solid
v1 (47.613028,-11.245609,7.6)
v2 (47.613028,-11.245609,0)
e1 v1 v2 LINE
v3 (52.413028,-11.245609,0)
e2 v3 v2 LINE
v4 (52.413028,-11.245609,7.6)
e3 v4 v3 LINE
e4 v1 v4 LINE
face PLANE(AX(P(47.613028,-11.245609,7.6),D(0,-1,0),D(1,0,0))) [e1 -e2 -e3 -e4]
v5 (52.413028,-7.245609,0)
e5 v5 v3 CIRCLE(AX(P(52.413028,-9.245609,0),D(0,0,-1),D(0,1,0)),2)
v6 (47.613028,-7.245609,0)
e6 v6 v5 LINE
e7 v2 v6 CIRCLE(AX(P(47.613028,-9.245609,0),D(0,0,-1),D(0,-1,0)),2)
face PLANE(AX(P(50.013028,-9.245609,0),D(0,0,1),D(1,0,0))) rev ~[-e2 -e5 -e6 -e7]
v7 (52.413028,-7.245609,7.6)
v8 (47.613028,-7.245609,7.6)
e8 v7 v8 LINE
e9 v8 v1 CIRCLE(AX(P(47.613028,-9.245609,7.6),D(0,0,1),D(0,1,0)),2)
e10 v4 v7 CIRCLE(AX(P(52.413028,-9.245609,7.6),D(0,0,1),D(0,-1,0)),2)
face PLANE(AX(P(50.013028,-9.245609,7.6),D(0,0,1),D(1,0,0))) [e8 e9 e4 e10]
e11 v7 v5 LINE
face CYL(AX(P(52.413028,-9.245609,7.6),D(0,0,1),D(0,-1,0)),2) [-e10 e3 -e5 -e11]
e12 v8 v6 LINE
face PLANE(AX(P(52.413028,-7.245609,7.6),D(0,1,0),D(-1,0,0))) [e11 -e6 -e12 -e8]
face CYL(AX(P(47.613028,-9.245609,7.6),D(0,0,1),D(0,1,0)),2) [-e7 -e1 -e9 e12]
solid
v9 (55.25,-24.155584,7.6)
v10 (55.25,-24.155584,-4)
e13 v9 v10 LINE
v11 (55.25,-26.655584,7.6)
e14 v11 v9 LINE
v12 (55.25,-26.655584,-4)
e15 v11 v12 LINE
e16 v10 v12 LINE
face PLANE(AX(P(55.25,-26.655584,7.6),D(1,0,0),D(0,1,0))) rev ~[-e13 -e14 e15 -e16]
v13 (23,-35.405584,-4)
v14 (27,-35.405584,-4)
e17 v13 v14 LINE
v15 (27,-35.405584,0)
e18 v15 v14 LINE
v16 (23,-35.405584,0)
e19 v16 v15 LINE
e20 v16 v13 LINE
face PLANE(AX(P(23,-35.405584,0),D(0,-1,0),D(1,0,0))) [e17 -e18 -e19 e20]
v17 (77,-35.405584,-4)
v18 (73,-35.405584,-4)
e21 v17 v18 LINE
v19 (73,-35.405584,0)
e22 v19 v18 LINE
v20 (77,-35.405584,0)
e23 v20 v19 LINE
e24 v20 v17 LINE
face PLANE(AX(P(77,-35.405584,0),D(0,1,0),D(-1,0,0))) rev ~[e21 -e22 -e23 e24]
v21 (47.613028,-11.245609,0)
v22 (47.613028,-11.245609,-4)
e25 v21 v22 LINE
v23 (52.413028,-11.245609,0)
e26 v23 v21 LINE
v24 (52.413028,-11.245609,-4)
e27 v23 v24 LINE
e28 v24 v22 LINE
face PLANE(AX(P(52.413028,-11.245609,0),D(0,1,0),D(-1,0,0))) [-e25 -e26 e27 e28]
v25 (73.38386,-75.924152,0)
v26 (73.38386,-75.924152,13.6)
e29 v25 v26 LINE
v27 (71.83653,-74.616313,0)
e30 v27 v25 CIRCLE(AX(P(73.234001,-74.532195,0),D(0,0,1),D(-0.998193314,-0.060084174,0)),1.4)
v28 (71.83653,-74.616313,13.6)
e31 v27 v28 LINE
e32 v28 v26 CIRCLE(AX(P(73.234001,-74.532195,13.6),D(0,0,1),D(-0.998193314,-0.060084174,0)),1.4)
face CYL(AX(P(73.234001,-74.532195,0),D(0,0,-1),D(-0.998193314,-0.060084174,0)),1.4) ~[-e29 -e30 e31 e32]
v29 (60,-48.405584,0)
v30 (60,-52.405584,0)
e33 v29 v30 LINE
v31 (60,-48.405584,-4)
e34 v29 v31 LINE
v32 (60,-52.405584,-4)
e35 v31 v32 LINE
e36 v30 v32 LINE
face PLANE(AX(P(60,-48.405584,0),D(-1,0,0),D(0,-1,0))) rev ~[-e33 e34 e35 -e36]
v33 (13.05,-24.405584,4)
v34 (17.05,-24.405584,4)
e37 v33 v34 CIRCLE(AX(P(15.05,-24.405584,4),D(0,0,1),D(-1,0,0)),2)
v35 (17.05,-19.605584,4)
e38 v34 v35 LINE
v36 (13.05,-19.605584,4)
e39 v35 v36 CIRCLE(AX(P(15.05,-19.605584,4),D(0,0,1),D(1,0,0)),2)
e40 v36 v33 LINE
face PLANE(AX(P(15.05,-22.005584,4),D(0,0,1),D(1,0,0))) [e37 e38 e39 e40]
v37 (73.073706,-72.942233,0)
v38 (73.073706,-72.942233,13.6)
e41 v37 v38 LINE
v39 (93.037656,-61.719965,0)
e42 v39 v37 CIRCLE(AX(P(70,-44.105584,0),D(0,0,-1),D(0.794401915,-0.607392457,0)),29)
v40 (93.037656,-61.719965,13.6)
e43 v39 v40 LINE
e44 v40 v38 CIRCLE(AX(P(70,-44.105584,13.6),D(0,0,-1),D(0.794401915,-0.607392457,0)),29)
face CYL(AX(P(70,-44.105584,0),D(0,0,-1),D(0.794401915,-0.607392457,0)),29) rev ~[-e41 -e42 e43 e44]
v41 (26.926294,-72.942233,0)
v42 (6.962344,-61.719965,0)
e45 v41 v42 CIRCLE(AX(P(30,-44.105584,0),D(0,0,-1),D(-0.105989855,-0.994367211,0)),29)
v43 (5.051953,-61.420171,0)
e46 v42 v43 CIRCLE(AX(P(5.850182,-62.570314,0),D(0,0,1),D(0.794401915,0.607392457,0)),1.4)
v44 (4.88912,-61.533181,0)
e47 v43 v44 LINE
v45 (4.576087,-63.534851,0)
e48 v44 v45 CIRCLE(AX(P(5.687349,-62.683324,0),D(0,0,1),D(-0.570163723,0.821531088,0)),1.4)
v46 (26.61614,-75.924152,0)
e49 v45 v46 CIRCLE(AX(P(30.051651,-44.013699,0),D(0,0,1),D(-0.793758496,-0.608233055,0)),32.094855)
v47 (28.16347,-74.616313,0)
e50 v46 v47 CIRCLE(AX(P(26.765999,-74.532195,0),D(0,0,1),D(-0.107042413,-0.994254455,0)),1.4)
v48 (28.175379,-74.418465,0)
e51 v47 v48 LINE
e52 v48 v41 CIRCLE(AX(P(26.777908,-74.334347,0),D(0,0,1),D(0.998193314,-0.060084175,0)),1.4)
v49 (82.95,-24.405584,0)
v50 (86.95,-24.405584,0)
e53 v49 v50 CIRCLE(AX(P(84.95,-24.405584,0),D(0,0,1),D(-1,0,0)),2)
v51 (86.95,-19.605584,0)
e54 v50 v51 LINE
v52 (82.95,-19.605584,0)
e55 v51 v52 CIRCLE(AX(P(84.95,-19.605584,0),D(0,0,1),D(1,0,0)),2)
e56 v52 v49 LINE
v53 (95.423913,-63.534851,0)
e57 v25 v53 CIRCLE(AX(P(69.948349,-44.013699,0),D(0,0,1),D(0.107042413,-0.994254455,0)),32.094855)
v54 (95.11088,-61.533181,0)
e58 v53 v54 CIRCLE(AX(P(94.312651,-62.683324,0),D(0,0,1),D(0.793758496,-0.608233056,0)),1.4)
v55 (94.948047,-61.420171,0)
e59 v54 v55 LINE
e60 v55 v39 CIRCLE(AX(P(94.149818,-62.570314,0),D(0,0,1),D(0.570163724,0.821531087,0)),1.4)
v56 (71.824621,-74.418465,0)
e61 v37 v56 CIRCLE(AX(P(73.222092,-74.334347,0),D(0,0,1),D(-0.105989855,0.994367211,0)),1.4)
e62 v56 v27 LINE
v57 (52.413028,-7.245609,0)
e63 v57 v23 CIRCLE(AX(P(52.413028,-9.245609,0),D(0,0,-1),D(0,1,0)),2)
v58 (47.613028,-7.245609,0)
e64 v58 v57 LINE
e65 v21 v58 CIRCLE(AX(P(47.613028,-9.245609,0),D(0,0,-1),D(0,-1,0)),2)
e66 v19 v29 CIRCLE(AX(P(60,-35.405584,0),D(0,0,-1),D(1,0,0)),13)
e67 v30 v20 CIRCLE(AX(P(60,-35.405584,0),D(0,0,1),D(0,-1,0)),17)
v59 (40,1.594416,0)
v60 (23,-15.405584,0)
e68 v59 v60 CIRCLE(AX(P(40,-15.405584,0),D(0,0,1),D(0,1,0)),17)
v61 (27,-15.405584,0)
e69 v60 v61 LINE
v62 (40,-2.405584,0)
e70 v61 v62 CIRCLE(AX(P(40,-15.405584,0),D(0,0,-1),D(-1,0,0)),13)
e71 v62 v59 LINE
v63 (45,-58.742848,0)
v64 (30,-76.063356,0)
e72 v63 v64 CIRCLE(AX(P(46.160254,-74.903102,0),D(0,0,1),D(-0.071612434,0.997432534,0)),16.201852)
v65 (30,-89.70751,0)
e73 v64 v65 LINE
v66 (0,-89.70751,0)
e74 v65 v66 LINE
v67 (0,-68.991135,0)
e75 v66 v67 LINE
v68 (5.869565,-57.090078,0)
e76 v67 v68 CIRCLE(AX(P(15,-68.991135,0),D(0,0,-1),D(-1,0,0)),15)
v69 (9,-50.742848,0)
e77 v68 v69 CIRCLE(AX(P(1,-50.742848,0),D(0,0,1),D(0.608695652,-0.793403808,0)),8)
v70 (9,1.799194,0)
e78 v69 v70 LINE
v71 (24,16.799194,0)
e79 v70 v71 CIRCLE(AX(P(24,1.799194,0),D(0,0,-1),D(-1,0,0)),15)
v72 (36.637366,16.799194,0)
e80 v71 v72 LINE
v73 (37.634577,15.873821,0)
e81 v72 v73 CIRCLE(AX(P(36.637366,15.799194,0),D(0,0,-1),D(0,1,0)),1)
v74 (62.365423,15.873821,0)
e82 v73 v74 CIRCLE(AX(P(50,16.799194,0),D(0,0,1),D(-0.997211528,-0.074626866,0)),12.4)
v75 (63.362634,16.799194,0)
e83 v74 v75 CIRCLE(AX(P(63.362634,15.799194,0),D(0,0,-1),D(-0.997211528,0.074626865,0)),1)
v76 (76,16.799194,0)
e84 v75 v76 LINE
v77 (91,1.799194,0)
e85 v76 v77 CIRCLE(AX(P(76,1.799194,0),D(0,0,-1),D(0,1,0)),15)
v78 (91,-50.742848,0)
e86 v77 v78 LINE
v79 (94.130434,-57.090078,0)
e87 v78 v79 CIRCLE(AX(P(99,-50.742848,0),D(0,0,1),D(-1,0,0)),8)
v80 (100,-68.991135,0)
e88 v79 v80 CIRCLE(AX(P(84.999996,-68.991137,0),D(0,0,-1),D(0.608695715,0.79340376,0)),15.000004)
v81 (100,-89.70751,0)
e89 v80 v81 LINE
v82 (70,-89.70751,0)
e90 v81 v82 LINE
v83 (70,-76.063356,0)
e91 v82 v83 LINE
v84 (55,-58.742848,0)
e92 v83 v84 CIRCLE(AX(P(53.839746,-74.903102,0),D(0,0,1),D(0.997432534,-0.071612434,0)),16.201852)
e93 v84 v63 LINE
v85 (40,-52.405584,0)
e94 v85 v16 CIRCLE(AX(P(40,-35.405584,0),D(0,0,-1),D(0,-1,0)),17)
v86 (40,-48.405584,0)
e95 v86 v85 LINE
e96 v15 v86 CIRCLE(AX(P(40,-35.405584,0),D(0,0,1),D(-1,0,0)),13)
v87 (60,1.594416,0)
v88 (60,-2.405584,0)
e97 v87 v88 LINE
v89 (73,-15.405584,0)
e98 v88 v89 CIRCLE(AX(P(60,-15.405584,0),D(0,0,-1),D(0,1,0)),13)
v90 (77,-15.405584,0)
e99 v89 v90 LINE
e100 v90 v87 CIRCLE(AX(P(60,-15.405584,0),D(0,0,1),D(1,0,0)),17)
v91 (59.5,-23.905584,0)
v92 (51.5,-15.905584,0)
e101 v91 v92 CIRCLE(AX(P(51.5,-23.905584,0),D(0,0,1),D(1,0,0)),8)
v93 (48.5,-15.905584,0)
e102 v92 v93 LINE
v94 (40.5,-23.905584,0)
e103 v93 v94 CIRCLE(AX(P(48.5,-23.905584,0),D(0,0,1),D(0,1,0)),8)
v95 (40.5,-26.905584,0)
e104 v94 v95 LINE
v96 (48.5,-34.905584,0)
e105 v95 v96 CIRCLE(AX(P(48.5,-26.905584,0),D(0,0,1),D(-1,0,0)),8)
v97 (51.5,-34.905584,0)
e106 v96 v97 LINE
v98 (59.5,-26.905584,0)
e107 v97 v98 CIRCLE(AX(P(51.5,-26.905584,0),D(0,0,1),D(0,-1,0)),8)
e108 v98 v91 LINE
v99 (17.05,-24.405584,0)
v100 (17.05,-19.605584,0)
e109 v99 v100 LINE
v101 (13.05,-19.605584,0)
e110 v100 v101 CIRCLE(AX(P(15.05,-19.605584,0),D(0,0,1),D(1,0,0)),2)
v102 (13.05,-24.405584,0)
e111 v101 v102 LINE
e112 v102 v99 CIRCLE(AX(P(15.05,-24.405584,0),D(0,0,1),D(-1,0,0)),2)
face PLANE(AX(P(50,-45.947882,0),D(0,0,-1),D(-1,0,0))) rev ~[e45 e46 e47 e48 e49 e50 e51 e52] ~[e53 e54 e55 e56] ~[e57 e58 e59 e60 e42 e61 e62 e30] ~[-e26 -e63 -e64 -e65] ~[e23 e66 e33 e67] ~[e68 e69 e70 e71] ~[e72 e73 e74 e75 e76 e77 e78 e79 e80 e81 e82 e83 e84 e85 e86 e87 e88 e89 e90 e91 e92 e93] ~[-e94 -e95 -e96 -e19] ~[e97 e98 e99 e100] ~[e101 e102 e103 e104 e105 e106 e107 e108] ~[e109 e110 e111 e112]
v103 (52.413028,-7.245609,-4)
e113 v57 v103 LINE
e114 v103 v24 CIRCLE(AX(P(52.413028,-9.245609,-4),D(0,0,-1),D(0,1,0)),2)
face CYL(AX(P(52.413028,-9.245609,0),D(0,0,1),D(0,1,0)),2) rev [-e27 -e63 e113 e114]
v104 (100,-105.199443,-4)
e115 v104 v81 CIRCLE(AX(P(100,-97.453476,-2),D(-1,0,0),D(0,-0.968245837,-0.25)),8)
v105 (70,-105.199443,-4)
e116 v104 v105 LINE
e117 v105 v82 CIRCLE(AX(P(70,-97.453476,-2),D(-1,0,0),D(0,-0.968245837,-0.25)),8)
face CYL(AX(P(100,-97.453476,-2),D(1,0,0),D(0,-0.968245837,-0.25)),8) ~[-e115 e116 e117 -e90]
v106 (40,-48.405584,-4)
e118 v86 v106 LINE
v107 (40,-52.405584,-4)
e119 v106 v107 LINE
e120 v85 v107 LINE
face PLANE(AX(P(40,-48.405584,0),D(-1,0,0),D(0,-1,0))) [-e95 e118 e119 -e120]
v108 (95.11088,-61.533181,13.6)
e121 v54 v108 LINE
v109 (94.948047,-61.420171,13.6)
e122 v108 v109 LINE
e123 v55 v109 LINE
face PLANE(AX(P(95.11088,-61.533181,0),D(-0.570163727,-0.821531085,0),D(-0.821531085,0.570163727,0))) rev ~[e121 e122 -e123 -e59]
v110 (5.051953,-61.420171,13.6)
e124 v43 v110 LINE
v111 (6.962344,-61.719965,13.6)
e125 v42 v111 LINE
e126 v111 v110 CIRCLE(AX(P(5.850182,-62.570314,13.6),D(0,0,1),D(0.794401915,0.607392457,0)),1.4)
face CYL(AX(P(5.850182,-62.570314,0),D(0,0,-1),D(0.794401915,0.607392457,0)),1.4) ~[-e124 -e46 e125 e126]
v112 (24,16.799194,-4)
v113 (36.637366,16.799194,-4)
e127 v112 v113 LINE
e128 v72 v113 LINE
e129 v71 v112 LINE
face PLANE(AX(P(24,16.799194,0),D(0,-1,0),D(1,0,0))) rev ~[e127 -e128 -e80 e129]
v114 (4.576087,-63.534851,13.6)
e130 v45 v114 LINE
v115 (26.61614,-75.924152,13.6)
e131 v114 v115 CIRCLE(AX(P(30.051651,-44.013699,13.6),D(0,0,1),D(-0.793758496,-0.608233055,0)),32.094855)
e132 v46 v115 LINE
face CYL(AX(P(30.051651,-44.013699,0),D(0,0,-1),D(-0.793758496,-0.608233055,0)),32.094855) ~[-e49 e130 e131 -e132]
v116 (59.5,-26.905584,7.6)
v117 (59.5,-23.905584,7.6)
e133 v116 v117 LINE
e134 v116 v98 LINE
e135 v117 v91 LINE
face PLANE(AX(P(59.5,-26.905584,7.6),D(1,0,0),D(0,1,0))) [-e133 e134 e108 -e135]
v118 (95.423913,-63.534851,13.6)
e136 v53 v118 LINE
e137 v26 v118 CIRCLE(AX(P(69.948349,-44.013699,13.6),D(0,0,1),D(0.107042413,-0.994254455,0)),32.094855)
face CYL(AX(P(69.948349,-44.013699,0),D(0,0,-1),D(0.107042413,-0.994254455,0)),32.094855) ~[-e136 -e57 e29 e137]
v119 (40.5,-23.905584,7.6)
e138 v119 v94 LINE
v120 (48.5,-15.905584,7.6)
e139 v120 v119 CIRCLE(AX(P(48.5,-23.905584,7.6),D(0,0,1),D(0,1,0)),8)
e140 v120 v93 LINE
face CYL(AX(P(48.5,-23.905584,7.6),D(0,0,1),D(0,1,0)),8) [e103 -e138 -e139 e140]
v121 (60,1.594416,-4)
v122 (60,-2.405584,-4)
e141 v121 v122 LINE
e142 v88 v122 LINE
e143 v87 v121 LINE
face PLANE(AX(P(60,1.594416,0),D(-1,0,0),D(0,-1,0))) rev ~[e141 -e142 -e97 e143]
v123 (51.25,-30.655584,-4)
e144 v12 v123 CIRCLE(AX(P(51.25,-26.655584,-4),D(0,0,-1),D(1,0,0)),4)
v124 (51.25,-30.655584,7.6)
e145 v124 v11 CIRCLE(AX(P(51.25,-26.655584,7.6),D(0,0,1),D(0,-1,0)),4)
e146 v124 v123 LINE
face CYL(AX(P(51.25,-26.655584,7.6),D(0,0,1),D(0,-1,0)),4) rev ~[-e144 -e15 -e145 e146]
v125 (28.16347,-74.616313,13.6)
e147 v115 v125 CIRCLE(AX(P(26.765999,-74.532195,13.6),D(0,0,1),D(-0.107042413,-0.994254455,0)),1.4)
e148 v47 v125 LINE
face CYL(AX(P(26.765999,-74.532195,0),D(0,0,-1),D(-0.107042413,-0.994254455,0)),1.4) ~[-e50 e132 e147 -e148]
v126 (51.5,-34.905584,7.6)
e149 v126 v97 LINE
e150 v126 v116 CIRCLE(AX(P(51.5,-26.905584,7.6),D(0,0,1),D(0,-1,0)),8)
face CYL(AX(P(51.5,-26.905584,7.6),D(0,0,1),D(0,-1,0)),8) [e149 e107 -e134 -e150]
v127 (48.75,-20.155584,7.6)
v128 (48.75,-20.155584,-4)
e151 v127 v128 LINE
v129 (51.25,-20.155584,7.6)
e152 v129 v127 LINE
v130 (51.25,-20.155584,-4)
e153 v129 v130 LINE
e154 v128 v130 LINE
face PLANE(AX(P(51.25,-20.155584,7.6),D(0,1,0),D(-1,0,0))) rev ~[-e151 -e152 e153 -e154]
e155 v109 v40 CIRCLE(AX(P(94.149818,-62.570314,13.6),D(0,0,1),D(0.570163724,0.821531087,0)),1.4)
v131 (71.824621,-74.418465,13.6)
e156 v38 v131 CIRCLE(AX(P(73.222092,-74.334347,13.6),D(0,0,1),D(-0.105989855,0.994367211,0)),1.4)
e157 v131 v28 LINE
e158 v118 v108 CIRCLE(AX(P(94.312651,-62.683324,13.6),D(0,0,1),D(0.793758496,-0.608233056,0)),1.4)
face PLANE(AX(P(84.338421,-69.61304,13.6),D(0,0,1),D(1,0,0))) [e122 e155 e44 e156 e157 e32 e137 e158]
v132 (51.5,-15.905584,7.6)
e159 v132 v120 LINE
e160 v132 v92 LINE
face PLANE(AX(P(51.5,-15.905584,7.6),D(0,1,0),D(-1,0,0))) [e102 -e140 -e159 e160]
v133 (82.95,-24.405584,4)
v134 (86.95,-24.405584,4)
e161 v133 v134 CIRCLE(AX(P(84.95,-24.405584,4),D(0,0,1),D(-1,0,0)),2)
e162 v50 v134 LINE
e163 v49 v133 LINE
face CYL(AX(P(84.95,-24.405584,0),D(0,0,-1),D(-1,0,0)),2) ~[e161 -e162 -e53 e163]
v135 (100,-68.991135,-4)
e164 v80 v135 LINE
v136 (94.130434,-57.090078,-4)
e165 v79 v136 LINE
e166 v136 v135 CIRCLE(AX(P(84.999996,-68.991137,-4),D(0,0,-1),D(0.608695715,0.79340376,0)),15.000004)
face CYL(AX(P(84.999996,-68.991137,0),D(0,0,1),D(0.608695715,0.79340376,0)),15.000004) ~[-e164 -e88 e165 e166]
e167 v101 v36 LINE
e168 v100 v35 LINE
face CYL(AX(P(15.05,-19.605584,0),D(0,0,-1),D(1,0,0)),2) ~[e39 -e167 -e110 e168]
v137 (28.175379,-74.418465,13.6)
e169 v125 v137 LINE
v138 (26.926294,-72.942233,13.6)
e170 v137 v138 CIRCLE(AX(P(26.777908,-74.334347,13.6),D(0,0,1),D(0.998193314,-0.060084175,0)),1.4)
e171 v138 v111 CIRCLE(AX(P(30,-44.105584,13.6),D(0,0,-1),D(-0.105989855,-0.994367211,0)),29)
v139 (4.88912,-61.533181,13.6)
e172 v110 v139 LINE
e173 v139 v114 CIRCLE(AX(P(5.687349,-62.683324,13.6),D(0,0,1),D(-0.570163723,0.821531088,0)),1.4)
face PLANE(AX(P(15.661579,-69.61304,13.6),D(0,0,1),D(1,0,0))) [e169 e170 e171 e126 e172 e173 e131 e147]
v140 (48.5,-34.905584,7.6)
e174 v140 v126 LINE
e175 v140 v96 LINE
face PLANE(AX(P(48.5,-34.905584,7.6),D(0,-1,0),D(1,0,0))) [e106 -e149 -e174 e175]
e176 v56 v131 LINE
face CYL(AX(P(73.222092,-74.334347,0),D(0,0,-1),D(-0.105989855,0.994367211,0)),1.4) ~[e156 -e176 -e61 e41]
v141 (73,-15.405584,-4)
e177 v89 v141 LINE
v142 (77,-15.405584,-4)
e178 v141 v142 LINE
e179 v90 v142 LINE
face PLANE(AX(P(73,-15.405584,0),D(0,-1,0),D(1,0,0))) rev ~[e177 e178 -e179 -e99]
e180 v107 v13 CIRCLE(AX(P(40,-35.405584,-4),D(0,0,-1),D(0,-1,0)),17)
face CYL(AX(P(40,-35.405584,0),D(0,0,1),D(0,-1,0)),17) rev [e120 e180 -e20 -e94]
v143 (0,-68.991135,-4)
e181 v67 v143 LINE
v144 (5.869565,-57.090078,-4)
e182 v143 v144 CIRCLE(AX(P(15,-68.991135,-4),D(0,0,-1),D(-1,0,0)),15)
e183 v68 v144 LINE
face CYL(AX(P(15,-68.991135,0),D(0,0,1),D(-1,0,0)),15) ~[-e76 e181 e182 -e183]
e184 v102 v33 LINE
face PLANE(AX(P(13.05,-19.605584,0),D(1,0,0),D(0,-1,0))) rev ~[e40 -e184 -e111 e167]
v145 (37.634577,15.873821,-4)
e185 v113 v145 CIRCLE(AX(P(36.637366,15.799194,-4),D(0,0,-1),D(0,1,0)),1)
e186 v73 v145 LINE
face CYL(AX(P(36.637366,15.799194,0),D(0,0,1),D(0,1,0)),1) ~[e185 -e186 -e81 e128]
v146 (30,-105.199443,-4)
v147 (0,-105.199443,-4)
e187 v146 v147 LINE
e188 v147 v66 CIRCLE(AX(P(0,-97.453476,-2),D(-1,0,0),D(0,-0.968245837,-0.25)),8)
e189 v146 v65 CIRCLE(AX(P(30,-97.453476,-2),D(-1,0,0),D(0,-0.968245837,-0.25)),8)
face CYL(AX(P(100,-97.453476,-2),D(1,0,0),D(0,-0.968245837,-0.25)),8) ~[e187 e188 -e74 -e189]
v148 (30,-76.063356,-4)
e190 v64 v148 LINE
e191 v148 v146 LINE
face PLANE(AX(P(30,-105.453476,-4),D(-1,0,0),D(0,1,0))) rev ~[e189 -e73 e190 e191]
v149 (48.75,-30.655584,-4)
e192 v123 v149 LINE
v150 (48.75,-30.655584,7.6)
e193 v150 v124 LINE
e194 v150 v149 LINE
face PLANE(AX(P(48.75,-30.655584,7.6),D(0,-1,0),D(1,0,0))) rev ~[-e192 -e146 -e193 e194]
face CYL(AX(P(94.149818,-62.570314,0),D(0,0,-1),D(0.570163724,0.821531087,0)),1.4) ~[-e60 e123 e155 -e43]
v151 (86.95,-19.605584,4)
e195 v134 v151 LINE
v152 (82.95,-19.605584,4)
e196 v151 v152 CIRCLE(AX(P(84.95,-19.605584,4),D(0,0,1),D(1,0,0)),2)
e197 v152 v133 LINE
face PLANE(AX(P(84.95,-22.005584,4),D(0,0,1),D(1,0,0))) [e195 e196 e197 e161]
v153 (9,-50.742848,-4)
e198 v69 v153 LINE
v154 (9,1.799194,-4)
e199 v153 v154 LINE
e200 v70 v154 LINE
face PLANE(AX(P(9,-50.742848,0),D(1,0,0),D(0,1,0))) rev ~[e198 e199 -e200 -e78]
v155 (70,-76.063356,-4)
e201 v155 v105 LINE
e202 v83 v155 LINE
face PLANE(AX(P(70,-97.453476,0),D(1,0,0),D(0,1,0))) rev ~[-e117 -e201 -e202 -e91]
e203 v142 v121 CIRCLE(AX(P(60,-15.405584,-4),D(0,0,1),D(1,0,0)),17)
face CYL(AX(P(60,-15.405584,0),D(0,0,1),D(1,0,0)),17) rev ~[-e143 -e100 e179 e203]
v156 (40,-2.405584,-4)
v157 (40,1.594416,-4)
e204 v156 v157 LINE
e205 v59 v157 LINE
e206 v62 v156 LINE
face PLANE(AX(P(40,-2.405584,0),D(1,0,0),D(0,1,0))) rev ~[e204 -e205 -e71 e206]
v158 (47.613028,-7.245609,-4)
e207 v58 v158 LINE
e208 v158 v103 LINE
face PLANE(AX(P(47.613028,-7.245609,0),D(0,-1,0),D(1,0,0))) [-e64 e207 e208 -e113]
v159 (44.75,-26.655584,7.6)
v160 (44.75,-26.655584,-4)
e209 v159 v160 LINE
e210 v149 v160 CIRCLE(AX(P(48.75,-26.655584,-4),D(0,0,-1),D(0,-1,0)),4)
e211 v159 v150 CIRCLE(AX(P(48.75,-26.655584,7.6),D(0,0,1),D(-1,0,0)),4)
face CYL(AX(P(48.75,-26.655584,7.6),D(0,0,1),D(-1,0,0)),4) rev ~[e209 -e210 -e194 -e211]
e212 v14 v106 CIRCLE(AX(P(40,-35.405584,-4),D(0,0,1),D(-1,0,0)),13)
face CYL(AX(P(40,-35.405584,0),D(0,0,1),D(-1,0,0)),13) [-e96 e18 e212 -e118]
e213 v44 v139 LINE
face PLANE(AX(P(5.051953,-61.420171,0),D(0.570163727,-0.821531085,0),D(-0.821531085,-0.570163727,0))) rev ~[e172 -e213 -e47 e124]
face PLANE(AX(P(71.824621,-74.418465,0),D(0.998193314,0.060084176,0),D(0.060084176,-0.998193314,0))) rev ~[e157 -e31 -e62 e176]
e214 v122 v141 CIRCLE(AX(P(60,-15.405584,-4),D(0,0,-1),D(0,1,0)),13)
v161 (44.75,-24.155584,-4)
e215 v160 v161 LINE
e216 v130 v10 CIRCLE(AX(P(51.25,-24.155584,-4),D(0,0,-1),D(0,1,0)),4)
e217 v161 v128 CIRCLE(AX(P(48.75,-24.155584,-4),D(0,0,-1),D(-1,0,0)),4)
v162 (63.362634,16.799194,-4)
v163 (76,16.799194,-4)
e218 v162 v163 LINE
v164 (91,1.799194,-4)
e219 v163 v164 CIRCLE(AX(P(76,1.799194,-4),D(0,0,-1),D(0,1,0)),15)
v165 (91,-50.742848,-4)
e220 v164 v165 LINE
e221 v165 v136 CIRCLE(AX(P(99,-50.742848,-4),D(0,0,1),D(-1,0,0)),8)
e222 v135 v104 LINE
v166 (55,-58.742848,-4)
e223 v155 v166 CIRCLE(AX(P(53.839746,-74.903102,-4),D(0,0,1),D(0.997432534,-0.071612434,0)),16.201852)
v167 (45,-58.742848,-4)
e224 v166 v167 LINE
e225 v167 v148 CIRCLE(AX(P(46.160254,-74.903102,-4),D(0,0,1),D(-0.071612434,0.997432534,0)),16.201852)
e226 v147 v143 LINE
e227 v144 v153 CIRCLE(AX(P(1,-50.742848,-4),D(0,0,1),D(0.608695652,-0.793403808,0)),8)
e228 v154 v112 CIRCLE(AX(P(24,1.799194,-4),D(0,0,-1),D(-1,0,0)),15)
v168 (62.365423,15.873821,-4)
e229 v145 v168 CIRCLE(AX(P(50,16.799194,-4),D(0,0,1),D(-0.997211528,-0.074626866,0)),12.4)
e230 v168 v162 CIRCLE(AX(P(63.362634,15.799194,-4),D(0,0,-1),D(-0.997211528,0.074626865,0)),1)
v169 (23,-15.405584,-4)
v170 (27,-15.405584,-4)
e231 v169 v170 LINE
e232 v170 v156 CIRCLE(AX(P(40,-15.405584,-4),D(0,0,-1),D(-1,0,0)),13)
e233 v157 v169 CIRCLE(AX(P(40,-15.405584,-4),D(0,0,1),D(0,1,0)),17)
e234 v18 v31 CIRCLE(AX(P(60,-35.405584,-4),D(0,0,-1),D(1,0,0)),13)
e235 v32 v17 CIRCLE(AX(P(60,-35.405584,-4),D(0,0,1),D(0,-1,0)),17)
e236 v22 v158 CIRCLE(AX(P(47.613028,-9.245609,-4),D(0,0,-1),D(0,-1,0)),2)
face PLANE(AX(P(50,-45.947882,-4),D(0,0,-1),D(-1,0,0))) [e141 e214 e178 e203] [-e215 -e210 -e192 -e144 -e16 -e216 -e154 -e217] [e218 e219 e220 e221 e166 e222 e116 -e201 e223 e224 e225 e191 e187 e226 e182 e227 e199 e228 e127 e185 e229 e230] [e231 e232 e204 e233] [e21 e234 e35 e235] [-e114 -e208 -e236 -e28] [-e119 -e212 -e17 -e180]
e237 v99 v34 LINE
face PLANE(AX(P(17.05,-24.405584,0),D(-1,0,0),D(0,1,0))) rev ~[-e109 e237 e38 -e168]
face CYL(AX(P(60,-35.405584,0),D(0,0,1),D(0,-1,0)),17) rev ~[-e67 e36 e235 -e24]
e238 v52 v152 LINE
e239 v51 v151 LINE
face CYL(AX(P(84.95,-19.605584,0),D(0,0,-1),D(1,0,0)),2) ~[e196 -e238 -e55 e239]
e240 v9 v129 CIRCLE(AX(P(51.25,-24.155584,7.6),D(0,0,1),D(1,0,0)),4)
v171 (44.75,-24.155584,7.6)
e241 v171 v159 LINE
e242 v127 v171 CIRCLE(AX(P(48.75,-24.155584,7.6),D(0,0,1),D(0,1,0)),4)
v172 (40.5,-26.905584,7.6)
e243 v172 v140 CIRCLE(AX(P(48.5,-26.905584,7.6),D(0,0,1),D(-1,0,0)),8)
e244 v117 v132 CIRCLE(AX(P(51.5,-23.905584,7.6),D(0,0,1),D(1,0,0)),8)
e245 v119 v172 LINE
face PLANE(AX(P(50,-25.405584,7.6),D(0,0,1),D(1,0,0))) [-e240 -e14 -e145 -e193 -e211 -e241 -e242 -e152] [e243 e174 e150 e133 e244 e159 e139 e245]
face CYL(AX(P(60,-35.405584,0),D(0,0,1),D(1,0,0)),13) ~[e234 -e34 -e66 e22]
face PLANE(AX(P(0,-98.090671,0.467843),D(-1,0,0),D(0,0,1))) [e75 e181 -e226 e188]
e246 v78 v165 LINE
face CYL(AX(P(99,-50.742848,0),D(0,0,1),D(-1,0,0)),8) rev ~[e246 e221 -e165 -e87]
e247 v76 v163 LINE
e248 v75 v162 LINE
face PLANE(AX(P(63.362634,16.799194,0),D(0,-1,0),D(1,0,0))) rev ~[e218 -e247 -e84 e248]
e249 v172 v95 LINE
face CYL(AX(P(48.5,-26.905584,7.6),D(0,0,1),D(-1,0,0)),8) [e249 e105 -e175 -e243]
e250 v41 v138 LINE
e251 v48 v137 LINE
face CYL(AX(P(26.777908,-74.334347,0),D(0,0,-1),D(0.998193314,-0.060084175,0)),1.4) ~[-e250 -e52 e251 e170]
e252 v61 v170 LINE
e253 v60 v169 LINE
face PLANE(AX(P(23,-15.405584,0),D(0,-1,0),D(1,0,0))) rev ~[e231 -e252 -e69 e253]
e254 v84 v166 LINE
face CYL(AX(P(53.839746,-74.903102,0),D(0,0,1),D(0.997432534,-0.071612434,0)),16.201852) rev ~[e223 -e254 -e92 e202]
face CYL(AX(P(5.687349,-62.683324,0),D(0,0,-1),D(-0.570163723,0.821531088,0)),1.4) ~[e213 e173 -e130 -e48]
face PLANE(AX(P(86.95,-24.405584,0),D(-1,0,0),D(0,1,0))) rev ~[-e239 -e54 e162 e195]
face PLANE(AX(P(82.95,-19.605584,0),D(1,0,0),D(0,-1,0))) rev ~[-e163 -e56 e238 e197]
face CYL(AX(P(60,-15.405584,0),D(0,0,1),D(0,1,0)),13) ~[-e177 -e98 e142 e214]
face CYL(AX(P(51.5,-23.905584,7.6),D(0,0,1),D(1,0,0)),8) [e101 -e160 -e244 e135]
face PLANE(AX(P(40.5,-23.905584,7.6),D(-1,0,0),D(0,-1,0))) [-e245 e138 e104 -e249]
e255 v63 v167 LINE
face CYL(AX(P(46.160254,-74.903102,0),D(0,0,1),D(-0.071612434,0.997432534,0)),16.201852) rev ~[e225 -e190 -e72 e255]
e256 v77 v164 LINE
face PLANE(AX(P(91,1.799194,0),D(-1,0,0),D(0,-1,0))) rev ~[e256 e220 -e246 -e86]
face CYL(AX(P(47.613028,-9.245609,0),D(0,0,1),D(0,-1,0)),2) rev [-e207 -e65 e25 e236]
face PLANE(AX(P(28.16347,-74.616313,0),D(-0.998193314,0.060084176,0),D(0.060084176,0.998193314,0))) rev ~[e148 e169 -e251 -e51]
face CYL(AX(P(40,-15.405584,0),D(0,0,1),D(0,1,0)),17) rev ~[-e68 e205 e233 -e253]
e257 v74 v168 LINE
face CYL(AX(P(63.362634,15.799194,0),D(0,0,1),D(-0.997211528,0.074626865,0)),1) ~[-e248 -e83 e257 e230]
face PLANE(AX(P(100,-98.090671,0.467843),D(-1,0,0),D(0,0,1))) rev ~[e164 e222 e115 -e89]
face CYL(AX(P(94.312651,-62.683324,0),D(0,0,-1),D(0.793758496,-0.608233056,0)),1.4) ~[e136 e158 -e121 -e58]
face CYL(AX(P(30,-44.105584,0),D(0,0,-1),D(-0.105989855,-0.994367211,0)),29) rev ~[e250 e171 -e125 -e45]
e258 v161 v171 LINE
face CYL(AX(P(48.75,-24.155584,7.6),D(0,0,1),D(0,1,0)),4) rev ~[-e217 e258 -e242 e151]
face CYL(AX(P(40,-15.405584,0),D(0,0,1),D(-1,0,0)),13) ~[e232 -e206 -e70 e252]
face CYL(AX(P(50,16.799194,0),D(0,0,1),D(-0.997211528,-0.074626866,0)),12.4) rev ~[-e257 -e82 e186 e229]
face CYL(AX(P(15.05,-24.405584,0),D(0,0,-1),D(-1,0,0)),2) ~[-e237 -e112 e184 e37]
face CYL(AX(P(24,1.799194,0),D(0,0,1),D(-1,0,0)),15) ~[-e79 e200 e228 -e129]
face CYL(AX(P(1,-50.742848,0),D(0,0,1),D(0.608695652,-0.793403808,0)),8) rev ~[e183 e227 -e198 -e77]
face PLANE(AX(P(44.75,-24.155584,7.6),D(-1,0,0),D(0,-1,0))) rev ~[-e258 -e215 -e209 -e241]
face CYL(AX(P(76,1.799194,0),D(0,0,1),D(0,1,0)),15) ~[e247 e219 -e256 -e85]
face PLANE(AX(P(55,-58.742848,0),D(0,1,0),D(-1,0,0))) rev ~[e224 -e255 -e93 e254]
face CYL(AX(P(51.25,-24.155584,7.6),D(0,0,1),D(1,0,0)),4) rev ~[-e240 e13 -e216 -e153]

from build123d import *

# Parameters (mm, degrees)
BOSS_EXTRUDE1_DEPTH     = 4
BOSS_EXTRUDE5_DEPTH     = 100
CUT_EXTRUDE1_DEPTH      = 6
CUT_EXTRUDE1_DEPTH_BACK = 4
SKETCH10_W              = 40
SKETCH10_H              = 15.745966692
BOSS_EXTRUDE2_START     = 7.6
BOSS_EXTRUDE2_DEPTH     = 7.6
BOSS_EXTRUDE3_DEPTH     = 4
BOSS_EXTRUDE4_DEPTH     = 13.6


with BuildPart() as part:
    # Sketch5 → Boss-Extrude1 (new body)
    with BuildSketch(Plane.XY):
        with BuildLine():
            Line((24, 16.79919429), (36.637365529, 16.79919429))
            ThreePointArc((36.637365529, 16.79919429), (37.317576208, 16.532210956), (37.634577057, 15.873821155))
            ThreePointArc((37.634577057, 15.873821155), (50, 4.39919429), (62.365422943, 15.873821155))
            ThreePointArc((62.365422943, 15.873821155), (62.682423792, 16.532210956), (63.362634471, 16.79919429))
            Line((63.362634471, 16.79919429), (76, 16.79919429))
            ThreePointArc((76, 16.79919429), (86.606601718, 12.405796007), (91, 1.79919429))
            Line((91, 1.79919429), (91, -50.7428479))
            ThreePointArc((91, -50.7428479), (91.825164609, -54.281454563), (94.130434279, -57.09007798))
            ThreePointArc((94.130434279, -57.09007798), (98.452815572, -62.356247367), (100, -68.991135491))
            Line((100, -68.991135491), (100, -97.453476489))
            Line((100, -97.453476489), (70, -97.453476489))
            Line((70, -97.453476489), (70, -76.063355975))
            ThreePointArc((70, -76.063355975), (66.087194676, -64.29650022), (55, -58.7428479))
            Line((55, -58.7428479), (45, -58.7428479))
            ThreePointArc((45, -58.7428479), (33.912805324, -64.29650022), (30, -76.063355975))
            Line((30, -76.063355975), (30, -97.453476489))
            Line((30, -97.453476489), (0, -97.453476489))
            Line((0, -97.453476489), (0, -68.991135491))
            ThreePointArc((0, -68.991135491), (1.547183906, -62.356247464), (5.869565217, -57.090078366))
            ThreePointArc((5.869565217, -57.090078366), (8.17483525, -54.281454848), (9, -50.7428479))
            Line((9, -50.7428479), (9, 1.79919429))
            ThreePointArc((9, 1.79919429), (13.393398282, 12.405796007), (24, 16.79919429))
        make_face()
        with BuildLine():
            Line((23, -35.405583535), (27, -35.405583535))
            ThreePointArc((27, -35.405583535), (30.807611845, -44.59797169), (40, -48.405583535))
            Line((40, -48.405583535), (40, -52.405583535))
            ThreePointArc((40, -52.405583535), (27.97918472, -47.426398815), (23, -35.405583535))
        make_face(mode=Mode.SUBTRACT)
        with BuildLine():
            Line((60, -48.405583535), (60, -52.405583535))
            ThreePointArc((60, -52.405583535), (72.02081528, -47.426398815), (77, -35.405583535))
            Line((77, -35.405583535), (73, -35.405583535))
            ThreePointArc((73, -35.405583535), (69.192388155, -44.59797169), (60, -48.405583535))
        make_face(mode=Mode.SUBTRACT)
        with BuildLine():
            Line((73, -15.405583535), (77, -15.405583535))
            ThreePointArc((77, -15.405583535), (72.02081528, -3.384768255), (60, 1.594416465))
            Line((60, 1.594416465), (60, -2.405583535))
            ThreePointArc((60, -2.405583535), (69.192388155, -6.213195379), (73, -15.405583535))
        make_face(mode=Mode.SUBTRACT)
        with BuildLine():
            Line((40, -2.405583535), (40, 1.594416465))
            ThreePointArc((40, 1.594416465), (27.97918472, -3.384768255), (23, -15.405583535))
            Line((23, -15.405583535), (27, -15.405583535))
            ThreePointArc((27, -15.405583535), (30.807611845, -6.213195379), (40, -2.405583535))
        make_face(mode=Mode.SUBTRACT)
        with BuildLine():
            Line((48.75, -20.155583535), (51.25, -20.155583535))
            ThreePointArc((51.25, -20.155583535), (54.078427125, -21.32715641), (55.25, -24.155583535))
            Line((55.25, -24.155583535), (55.25, -26.655583535))
            ThreePointArc((55.25, -26.655583535), (54.078427125, -29.48401066), (51.25, -30.655583535))
            Line((51.25, -30.655583535), (48.75, -30.655583535))
            ThreePointArc((48.75, -30.655583535), (45.921572875, -29.48401066), (44.75, -26.655583535))
            Line((44.75, -26.655583535), (44.75, -24.155583535))
            ThreePointArc((44.75, -24.155583535), (45.921572875, -21.32715641), (48.75, -20.155583535))
        make_face(mode=Mode.SUBTRACT)
        with BuildLine():
            Line((47.613027863, -7.245609293), (52.413027863, -7.245609293))
            ThreePointArc((52.413027863, -7.245609293), (54.413027863, -9.245609293), (52.413027863, -11.245609293))
            Line((52.413027863, -11.245609293), (47.613027863, -11.245609293))
            ThreePointArc((47.613027863, -11.245609293), (45.613027863, -9.245609293), (47.613027863, -7.245609293))
        make_face(mode=Mode.SUBTRACT)
    extrude(amount=-BOSS_EXTRUDE1_DEPTH)

    # Sketch9 → Boss-Extrude5 (add)
    with BuildSketch(Plane(origin=(100, 0, 0), x_dir=(0, 0, -1), z_dir=(1, 0, 0))):
        with BuildLine():
            Line((0, -89.707509797), (0, -97.453476489))
            Line((0, -97.453476489), (4, -97.453476489))
            Line((4, -97.453476489), (4, -105.199443182))
            ThreePointArc((4, -105.199443182), (-5.745966692, -99.453476489), (0, -89.707509797))
        make_face()
    extrude(amount=-BOSS_EXTRUDE5_DEPTH)

    # Sketch10 → Cut-Extrude1 (cut, two sides: drawn at the far end of the back side and taken through both)
    with BuildSketch(Plane.XY.offset(-CUT_EXTRUDE1_DEPTH_BACK)):
        with Locations((50, -97.580493143)):
            Rectangle(SKETCH10_W, SKETCH10_H)
    extrude(amount=CUT_EXTRUDE1_DEPTH + CUT_EXTRUDE1_DEPTH_BACK, mode=Mode.SUBTRACT)

    # Sketch7 → Boss-Extrude2 (add)
    # profile 1 of 2: a face of its own
    with BuildSketch(Plane.XY.offset(BOSS_EXTRUDE2_START)):
        with BuildLine():
            Line((40.5, -23.905583535), (40.5, -26.905583535))
            ThreePointArc((40.5, -26.905583535), (42.843145751, -32.562437784), (48.5, -34.905583535))
            Line((48.5, -34.905583535), (51.5, -34.905583535))
            ThreePointArc((51.5, -34.905583535), (57.156854249, -32.562437784), (59.5, -26.905583535))
            Line((59.5, -26.905583535), (59.5, -23.905583535))
            ThreePointArc((59.5, -23.905583535), (57.156854249, -18.248729285), (51.5, -15.905583535))
            Line((51.5, -15.905583535), (48.5, -15.905583535))
            ThreePointArc((48.5, -15.905583535), (42.843145751, -18.248729285), (40.5, -23.905583535))
        make_face()
        with BuildLine():
            Line((44.75, -24.155583535), (44.75, -26.655583535))
            ThreePointArc((44.75, -26.655583535), (45.921572875, -29.48401066), (48.75, -30.655583535))
            Line((48.75, -30.655583535), (51.25, -30.655583535))
            ThreePointArc((51.25, -30.655583535), (54.078427125, -29.48401066), (55.25, -26.655583535))
            Line((55.25, -26.655583535), (55.25, -24.155583535))
            ThreePointArc((55.25, -24.155583535), (54.078427125, -21.32715641), (51.25, -20.155583535))
            Line((51.25, -20.155583535), (48.75, -20.155583535))
            ThreePointArc((48.75, -20.155583535), (45.921572875, -21.32715641), (44.75, -24.155583535))
        make_face(mode=Mode.SUBTRACT)
    # profile 2 of 2: a face of its own
    with BuildSketch(Plane.XY.offset(BOSS_EXTRUDE2_START)):
        with BuildLine():
            Line((47.613027863, -11.245609293), (52.413027863, -11.245609293))
            ThreePointArc((52.413027863, -11.245609293), (54.413027863, -9.245609293), (52.413027863, -7.245609293))
            Line((52.413027863, -7.245609293), (47.613027863, -7.245609293))
            ThreePointArc((47.613027863, -7.245609293), (45.613027863, -9.245609293), (47.613027863, -11.245609293))
        make_face()
    extrude(amount=-BOSS_EXTRUDE2_DEPTH)


with BuildPart() as boss_extrude2_piece_1:
    # of the separate pieces the step leaves, piece 1, a body of its own (boss_extrude2_pieces)
    add(part.part.solids().sort_by_distance((55, -58.7428479, 0))[0])

    # Sketch6 → Boss-Extrude3 (add)
    with BuildSketch(Plane.XY):
        with BuildLine():
            Line((13.05, -19.605583535), (13.05, -24.405583535))
            ThreePointArc((13.05, -24.405583535), (15.05, -26.405583535), (17.05, -24.405583535))
            Line((17.05, -24.405583535), (17.05, -19.605583535))
            ThreePointArc((17.05, -19.605583535), (15.05, -17.605583535), (13.05, -19.605583535))
        make_face()
        with BuildLine():
            Line((82.95, -19.605583535), (82.95, -24.405583535))
            ThreePointArc((82.95, -24.405583535), (84.95, -26.405583535), (86.95, -24.405583535))
            Line((86.95, -24.405583535), (86.95, -19.605583535))
            ThreePointArc((86.95, -19.605583535), (84.95, -17.605583535), (82.95, -19.605583535))
        make_face()
    extrude(amount=BOSS_EXTRUDE3_DEPTH)

    # Sketch8 → Boss-Extrude4 (add)
    with BuildSketch(Plane.XY):
        with BuildLine():
            Line((5.051952567, -61.420170717), (4.889119672, -61.533180939))
            ThreePointArc((4.889119672, -61.533180939), (4.304160695, -62.467013505), (4.576086991, -63.534850738))
            ThreePointArc((4.576086991, -63.534850738), (14.324723149, -71.991251845), (26.616139945, -75.924151508))
            ThreePointArc((26.616139945, -75.924151508), (27.669738102, -75.601426873), (28.163469962, -74.616313115))
            Line((28.163469962, -74.616313115), (28.175379043, -74.418464598))
            ThreePointArc((28.175379043, -74.418464598), (27.846661517, -73.430042168), (26.926294201, -72.942232658))
            ThreePointArc((26.926294201, -72.942232658), (15.789594598, -69.385306206), (6.962344462, -61.719964799))
            ThreePointArc((6.962344462, -61.719964799), (6.067224815, -61.187240734), (5.051952567, -61.420170717))
        make_face()
        with BuildLine():
            Line((71.824620957, -74.418464598), (71.836530038, -74.616313115))
            ThreePointArc((71.836530038, -74.616313115), (72.330261898, -75.601426873), (73.383860055, -75.924151508))
            ThreePointArc((73.383860055, -75.924151508), (85.675276851, -71.991251845), (95.423913009, -63.534850738))
            ThreePointArc((95.423913009, -63.534850738), (95.695839305, -62.467013505), (95.110880328, -61.533180939))
            Line((95.110880328, -61.533180939), (94.948047433, -61.420170717))
            ThreePointArc((94.948047433, -61.420170717), (93.932775185, -61.187240734), (93.037655538, -61.719964799))
            ThreePointArc((93.037655538, -61.719964799), (84.210405402, -69.385306206), (73.073705799, -72.942232658))
            ThreePointArc((73.073705799, -72.942232658), (72.153338483, -73.430042168), (71.824620957, -74.418464598))
        make_face()
    extrude(amount=BOSS_EXTRUDE4_DEPTH)


with BuildPart() as boss_extrude2_piece_2:
    # of the separate pieces the step leaves, piece 2, a body of its own (boss_extrude2_pieces)
    add(part.part.solids().sort_by_distance((47.613027863, -7.245609293, 7.6))[0])


solid = Compound([boss_extrude2_piece_1.part, boss_extrude2_piece_2.part])
